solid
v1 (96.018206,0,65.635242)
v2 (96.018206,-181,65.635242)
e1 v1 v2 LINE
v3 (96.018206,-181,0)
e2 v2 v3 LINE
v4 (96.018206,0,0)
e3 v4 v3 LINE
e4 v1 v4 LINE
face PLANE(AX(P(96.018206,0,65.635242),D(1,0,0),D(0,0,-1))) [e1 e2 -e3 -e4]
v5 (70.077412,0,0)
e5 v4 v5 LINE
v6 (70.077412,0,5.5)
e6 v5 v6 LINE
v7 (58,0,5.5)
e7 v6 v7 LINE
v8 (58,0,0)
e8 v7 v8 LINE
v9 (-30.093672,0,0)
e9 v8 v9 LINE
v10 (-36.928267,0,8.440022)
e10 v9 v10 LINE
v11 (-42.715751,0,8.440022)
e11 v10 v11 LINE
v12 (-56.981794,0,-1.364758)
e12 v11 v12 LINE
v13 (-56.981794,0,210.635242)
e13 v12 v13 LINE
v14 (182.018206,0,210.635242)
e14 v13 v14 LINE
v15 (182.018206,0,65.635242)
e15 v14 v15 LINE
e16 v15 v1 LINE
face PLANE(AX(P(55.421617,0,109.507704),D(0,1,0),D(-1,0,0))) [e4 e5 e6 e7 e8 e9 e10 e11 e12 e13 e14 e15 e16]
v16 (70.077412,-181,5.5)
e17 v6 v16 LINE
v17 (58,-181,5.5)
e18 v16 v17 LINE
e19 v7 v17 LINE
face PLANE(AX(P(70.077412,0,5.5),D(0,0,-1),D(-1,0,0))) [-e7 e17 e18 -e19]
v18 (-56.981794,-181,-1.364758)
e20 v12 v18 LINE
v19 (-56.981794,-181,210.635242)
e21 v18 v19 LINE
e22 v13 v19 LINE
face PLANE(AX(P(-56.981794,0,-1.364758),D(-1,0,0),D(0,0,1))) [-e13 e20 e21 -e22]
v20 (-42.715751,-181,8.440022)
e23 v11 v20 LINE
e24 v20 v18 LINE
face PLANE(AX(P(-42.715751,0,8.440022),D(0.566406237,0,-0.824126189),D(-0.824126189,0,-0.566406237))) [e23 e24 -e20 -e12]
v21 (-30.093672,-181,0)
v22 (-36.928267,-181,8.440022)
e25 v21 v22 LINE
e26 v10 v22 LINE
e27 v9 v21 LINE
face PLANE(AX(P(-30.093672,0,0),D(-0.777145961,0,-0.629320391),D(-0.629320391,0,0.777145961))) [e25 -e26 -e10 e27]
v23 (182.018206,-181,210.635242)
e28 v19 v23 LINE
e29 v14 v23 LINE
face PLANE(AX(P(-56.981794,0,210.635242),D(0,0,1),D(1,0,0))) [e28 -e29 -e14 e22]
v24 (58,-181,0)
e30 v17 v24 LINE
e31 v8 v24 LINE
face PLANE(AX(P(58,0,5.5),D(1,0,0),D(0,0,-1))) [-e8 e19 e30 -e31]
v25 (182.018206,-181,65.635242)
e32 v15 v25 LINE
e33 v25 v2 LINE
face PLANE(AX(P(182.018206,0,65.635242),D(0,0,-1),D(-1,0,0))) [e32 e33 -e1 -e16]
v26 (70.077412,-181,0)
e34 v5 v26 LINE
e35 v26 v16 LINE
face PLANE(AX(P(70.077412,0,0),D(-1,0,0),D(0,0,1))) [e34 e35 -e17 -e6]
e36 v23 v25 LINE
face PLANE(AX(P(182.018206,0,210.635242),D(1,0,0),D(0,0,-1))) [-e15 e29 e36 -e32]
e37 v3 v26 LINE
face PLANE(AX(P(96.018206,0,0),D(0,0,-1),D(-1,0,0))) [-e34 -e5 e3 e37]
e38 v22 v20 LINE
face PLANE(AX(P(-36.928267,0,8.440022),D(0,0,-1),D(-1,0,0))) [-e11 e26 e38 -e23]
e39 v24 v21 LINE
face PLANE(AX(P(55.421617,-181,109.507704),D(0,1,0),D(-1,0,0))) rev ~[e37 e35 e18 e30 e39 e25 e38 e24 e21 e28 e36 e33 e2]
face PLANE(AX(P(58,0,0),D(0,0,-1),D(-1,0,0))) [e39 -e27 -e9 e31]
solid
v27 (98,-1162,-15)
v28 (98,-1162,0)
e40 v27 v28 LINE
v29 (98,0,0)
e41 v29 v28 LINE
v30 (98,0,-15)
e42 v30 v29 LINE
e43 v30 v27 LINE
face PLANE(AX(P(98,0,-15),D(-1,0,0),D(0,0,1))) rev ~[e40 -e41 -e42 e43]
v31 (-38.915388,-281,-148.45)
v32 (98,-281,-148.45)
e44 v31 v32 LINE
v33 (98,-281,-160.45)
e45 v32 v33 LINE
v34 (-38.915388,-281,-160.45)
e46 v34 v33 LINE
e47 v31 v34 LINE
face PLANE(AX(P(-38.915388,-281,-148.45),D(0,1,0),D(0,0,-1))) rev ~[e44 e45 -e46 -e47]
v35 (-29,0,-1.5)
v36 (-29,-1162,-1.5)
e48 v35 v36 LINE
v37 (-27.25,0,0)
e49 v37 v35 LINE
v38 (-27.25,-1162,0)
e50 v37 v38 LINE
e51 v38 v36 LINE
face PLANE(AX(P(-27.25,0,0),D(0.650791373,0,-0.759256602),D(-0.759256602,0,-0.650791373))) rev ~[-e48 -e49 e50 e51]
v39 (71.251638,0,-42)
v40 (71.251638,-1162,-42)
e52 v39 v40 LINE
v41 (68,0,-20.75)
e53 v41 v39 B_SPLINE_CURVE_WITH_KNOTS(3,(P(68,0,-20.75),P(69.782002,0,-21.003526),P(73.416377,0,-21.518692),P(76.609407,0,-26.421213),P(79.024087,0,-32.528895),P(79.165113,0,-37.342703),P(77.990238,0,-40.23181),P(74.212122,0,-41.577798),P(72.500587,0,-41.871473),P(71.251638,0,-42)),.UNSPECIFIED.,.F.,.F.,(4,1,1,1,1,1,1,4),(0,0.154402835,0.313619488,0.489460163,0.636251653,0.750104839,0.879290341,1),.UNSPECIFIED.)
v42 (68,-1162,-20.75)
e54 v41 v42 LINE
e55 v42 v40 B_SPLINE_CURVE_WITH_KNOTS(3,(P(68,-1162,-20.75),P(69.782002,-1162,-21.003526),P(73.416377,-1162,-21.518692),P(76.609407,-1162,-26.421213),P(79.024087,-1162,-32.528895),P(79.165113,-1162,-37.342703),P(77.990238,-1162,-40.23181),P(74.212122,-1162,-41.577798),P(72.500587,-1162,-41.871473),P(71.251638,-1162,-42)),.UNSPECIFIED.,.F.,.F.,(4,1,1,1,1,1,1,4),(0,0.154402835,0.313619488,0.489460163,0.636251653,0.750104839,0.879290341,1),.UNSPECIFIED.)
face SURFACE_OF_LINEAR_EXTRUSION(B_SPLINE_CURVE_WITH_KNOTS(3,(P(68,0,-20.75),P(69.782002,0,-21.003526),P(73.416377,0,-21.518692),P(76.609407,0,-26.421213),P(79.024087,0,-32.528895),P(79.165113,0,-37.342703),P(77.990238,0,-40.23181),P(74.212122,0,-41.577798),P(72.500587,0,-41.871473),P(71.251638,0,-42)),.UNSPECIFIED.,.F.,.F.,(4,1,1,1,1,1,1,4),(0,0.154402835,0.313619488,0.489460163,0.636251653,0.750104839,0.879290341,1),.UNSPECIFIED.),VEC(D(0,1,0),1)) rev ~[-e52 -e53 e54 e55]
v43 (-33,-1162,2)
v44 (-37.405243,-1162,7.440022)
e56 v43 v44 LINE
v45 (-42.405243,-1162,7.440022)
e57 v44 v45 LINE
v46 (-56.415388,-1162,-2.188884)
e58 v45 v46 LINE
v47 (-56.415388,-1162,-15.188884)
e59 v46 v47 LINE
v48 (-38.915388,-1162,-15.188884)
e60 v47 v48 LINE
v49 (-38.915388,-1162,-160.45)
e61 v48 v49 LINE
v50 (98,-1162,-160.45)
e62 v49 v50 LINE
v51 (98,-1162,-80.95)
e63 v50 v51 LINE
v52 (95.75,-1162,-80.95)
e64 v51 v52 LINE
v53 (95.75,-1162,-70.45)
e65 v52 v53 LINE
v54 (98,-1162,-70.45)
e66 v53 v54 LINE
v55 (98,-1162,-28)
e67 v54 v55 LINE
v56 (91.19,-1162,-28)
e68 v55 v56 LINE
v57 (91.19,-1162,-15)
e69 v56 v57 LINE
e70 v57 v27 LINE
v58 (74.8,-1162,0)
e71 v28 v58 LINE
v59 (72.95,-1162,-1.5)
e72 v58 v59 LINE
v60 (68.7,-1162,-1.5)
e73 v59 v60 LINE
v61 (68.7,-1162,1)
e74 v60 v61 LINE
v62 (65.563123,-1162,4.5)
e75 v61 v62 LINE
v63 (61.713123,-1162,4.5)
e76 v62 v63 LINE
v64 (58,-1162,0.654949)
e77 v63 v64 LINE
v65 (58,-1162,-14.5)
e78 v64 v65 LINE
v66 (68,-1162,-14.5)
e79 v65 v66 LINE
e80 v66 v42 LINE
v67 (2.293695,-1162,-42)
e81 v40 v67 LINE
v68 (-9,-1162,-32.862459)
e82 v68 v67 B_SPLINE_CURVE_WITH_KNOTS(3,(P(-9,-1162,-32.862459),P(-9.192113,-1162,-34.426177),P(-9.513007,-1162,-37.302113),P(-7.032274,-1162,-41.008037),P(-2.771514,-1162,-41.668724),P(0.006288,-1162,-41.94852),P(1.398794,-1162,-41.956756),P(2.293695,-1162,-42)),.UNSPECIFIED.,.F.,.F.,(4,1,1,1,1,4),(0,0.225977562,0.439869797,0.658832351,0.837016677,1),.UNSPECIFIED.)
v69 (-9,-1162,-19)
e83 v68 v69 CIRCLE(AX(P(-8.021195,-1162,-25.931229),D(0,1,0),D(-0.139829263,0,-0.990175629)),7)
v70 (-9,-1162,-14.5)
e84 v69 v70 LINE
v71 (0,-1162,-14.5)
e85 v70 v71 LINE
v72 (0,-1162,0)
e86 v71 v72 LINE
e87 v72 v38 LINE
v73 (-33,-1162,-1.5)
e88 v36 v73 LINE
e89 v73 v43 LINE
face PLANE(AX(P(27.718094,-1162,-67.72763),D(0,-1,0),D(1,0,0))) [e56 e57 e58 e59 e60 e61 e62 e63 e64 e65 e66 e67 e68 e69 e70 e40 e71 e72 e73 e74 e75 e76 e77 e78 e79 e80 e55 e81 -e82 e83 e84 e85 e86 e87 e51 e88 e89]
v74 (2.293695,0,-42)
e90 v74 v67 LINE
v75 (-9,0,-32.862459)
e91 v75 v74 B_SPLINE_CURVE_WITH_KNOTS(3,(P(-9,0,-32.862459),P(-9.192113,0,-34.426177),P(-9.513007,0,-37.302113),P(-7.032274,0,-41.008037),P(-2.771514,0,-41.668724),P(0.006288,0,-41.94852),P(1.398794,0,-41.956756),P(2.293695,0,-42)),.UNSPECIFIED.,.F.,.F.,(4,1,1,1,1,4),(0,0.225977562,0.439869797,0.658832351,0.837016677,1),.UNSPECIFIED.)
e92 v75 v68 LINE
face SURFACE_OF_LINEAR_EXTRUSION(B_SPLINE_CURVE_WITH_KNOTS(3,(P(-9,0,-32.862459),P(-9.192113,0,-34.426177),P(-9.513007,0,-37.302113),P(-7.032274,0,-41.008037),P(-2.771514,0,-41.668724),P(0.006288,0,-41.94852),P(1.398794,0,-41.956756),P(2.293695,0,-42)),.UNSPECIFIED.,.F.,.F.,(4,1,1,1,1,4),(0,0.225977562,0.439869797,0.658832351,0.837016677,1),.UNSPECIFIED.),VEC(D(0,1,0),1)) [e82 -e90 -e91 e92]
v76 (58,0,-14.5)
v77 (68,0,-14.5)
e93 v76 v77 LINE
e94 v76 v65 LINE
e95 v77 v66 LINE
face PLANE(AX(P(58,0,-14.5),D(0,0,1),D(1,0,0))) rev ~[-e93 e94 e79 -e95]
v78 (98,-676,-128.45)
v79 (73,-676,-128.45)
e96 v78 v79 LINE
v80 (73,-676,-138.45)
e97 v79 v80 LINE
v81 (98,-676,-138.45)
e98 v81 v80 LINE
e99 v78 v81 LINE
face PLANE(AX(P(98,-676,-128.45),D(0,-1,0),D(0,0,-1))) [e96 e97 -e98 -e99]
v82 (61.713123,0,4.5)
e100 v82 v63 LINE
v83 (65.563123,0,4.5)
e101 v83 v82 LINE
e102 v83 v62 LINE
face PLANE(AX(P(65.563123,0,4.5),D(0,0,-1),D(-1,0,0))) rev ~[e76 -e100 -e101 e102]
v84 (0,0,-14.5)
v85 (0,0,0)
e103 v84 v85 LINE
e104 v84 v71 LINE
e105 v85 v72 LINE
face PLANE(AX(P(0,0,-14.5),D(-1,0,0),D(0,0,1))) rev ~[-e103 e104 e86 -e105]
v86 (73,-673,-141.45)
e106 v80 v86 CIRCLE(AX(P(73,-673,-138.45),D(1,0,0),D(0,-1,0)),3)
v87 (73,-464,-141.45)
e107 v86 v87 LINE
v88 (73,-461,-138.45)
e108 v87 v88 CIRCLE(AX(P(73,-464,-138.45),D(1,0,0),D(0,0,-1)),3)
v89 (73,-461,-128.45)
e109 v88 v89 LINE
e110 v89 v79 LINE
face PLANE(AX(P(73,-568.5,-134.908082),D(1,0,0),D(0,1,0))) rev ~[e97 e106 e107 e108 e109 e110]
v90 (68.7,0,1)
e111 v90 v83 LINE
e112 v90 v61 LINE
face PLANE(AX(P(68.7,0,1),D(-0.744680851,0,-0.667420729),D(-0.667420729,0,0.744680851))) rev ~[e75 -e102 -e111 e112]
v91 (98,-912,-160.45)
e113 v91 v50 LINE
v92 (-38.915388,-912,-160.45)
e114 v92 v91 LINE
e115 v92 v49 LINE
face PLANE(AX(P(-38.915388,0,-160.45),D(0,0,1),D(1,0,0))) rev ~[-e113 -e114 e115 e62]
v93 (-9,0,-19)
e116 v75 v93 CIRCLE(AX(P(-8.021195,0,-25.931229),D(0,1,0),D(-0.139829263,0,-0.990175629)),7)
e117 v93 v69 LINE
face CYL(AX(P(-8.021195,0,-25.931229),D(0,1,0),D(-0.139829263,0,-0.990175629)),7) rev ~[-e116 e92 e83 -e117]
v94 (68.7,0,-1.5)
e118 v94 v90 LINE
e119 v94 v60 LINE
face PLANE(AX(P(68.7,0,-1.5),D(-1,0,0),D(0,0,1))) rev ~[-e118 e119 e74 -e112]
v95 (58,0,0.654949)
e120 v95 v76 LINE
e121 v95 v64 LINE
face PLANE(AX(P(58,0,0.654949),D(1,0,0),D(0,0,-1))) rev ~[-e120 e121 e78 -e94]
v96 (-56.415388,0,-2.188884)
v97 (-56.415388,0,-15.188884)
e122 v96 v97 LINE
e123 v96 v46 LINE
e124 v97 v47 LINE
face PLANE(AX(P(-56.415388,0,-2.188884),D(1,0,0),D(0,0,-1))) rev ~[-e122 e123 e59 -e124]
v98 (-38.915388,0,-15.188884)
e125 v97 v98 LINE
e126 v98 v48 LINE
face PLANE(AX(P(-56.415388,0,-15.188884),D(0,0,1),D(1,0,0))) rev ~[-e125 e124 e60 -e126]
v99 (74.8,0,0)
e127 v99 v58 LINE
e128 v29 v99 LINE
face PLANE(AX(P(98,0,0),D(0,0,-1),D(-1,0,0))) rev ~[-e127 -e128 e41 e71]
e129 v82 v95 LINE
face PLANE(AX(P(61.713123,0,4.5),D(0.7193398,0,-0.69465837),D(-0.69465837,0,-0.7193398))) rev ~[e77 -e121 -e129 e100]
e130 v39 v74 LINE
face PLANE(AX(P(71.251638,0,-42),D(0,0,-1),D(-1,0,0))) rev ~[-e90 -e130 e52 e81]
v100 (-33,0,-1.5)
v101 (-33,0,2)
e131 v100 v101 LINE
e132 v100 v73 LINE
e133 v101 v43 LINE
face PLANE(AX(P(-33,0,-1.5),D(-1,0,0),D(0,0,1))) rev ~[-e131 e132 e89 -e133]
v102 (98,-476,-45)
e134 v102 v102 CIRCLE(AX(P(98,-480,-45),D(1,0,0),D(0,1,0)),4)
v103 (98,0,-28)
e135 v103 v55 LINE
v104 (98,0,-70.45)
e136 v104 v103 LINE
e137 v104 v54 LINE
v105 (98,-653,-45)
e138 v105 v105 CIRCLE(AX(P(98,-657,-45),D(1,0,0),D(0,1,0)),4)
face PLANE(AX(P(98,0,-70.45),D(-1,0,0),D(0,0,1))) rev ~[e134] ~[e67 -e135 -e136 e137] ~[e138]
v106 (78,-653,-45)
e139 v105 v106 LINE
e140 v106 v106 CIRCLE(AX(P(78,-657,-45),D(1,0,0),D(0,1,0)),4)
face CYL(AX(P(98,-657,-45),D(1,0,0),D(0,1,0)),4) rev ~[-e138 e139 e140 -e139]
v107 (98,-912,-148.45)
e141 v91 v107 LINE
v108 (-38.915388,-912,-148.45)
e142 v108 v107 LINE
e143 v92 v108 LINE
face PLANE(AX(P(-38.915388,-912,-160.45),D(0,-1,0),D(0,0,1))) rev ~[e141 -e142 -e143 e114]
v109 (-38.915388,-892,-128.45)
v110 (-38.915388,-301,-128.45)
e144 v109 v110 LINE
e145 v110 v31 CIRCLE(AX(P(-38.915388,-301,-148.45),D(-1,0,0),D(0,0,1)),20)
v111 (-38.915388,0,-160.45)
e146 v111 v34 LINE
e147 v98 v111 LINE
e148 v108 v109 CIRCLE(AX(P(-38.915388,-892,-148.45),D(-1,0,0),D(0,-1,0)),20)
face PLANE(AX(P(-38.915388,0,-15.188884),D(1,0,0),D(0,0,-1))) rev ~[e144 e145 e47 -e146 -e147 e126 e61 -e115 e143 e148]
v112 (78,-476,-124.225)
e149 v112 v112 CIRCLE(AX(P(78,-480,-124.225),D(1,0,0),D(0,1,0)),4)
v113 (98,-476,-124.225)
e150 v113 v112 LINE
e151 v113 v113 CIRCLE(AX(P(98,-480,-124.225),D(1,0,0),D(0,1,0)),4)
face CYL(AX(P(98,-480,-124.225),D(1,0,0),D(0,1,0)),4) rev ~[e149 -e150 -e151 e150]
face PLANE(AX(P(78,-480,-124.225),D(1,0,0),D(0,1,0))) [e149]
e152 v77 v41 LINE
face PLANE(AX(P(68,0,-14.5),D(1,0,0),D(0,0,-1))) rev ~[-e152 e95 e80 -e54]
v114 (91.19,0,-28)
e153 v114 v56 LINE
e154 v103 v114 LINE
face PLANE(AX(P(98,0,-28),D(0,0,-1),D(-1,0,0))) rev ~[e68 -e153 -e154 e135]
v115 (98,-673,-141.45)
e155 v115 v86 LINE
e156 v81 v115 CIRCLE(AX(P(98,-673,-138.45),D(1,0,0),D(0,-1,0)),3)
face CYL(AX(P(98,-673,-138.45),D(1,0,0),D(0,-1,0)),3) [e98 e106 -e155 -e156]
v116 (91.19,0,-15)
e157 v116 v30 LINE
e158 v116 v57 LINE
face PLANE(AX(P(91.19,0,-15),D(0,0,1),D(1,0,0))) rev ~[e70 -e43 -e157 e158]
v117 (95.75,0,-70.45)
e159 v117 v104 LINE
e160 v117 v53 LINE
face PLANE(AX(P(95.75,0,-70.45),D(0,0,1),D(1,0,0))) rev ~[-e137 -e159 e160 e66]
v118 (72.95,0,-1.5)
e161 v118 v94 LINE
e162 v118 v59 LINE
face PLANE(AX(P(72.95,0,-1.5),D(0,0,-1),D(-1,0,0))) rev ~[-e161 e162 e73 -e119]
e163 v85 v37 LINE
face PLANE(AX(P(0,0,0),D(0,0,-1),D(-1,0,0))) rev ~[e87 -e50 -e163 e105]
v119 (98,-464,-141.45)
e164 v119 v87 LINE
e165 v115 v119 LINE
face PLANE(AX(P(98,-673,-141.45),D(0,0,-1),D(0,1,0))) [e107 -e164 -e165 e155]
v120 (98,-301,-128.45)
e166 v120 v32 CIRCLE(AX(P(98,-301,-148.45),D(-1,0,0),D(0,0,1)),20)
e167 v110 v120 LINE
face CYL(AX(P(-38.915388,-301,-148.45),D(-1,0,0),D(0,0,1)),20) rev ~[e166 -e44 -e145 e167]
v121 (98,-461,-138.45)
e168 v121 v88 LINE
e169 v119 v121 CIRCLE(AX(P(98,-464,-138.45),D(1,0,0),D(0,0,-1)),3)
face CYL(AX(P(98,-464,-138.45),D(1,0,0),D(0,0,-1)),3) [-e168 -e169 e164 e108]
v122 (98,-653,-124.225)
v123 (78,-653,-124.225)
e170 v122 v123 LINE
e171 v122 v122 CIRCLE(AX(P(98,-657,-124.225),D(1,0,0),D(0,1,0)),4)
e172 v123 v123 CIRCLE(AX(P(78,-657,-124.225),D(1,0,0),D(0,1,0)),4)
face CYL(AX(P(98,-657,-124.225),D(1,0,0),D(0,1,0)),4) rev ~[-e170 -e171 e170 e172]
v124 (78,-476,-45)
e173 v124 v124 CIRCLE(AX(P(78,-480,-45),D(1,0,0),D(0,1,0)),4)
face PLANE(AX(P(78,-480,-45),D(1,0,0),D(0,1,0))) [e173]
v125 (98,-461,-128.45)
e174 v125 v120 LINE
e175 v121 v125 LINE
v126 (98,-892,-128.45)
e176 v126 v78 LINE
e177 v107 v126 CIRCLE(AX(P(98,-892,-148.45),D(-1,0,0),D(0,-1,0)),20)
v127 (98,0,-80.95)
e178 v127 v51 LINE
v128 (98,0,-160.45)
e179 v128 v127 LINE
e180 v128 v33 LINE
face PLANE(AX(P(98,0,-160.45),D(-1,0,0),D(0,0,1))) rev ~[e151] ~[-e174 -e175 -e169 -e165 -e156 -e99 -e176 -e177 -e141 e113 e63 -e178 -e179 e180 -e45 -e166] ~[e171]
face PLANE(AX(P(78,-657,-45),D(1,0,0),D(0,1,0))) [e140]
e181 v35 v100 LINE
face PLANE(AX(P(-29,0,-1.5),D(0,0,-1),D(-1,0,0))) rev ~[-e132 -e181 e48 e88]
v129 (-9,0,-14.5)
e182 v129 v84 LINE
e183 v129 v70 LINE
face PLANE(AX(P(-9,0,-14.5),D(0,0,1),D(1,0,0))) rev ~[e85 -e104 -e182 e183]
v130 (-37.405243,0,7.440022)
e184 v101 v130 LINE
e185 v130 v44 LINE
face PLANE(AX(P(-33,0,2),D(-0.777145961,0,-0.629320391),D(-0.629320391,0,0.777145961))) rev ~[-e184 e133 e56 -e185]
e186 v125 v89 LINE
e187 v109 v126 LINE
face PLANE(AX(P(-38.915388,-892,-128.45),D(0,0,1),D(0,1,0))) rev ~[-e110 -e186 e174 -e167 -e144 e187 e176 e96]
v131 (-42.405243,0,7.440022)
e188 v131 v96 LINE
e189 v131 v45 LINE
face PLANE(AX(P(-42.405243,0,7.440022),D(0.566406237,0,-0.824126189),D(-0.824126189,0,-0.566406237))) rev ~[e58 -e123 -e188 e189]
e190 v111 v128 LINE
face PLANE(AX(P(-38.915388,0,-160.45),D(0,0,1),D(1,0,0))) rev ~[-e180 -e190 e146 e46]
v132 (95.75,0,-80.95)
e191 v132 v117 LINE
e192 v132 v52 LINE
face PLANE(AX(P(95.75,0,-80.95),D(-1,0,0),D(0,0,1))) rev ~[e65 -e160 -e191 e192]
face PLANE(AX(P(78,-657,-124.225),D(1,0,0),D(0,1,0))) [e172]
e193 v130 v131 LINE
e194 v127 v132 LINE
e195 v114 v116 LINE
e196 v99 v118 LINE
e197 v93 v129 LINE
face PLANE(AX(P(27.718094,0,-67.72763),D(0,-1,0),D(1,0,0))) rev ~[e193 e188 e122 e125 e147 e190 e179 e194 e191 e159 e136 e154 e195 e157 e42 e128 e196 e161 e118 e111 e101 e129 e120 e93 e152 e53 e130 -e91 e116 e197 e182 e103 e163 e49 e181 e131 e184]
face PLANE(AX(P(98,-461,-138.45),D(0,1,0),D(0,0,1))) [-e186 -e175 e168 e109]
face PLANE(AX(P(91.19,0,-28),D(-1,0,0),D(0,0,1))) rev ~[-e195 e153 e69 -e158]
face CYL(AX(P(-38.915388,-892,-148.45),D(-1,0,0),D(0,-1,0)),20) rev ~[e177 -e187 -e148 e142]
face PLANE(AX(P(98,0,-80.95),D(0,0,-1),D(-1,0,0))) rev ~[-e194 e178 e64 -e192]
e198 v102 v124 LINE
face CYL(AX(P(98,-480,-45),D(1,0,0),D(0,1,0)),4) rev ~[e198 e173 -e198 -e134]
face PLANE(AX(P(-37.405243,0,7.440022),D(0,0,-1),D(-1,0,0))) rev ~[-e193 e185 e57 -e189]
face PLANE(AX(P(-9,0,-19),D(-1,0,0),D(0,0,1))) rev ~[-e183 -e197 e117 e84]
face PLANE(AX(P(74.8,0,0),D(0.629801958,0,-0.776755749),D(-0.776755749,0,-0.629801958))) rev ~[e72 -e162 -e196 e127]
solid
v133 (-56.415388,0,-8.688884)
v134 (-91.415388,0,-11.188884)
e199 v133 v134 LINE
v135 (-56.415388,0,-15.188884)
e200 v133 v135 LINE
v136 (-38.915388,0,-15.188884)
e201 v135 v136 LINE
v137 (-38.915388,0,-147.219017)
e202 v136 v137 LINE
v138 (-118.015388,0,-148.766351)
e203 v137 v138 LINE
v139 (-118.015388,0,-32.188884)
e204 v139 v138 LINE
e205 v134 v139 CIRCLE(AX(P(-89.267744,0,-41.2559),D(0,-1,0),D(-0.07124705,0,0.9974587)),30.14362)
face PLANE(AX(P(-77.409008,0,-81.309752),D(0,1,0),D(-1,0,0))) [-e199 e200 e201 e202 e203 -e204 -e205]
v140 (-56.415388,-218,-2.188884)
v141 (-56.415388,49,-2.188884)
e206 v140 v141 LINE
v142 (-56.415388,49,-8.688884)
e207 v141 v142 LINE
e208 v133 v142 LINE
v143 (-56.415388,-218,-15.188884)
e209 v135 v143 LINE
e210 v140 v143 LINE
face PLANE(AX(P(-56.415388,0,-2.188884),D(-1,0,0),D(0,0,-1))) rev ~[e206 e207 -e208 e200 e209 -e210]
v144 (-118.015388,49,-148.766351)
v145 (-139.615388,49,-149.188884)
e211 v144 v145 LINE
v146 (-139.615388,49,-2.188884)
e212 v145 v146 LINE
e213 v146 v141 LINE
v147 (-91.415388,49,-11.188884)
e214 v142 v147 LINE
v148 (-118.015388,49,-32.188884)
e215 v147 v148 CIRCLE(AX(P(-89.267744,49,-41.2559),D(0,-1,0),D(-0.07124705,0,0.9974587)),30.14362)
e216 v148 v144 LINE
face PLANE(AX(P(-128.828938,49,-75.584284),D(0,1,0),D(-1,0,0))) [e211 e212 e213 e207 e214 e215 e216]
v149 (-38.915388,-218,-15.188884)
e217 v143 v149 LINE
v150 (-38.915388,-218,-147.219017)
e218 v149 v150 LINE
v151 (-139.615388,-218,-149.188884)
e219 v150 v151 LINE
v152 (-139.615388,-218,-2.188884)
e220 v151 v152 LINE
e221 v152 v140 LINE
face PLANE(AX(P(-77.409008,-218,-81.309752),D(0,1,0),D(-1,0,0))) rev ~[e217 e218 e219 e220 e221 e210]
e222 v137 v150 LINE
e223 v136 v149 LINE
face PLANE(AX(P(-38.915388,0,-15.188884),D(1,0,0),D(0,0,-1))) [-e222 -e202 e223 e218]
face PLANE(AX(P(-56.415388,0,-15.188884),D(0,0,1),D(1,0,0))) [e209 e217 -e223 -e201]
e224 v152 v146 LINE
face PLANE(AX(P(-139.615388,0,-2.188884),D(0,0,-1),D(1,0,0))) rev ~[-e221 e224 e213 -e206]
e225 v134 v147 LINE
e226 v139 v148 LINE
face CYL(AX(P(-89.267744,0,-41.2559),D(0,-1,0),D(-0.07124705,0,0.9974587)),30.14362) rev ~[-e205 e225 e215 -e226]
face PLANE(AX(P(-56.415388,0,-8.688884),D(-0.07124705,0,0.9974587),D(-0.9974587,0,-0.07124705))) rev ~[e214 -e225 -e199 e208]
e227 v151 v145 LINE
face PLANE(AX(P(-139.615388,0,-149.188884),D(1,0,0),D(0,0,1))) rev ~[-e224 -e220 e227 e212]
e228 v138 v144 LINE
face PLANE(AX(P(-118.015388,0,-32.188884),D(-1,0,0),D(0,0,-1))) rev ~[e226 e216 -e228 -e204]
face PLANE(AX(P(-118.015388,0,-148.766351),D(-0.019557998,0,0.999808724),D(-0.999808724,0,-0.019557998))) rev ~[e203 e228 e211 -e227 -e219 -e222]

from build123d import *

# Parameters (mm, degrees)
F1_DEPTH  = 1162
F3_DEPTH  = 136.9153879439
F5_DEPTH  = 25
F4_R      = 4
F6_DEPTH  = 20
F8_DEPTH  = 218
F9_DEPTH  = 49
F11_DEPTH = 181


with BuildPart() as f1:
    # F0 (on Front) → F1 (new body)
    with BuildSketch(Plane.XZ):
        with BuildLine():
            Line((98, -15), (98, 0))
            Line((98, 0), (74.8, 0))
            Line((74.8, 0), (72.95, -1.5))
            Line((72.95, -1.5), (68.7, -1.5))
            Line((68.7, -1.5), (68.7, 1))
            Line((68.7, 1), (65.5631225717, 4.5))
            Line((65.5631225717, 4.5), (61.7131225717, 4.5))
            Line((61.7131225717, 4.5), (58, 0.6549490182))
            Line((58, 0.6549490182), (58, -14.5))
            Line((58, -14.5), (68, -14.5))
            Line((68, -14.5), (68, -20.75))
            add(Edge.make_bspline(
                [(68, -20.75), (69.7820021938, -21.0035260588), (73.4163773468, -21.5186921977), (76.6094071106, -26.4212132096), (79.0240865965, -32.5288945488), (79.1651134516, -37.3427034629), (77.9902378945, -40.2318102544), (74.2121223578, -41.5777983629), (72.5005865097, -41.8714731932), (71.2516382337, -42)],
                knots=[0, 0, 0, 0, 0.1544028345, 0.3136194875, 0.4894601632, 0.6362516526, 0.7501048386, 0.8792903413, 1, 1, 1, 1], degree=3))
            Line((71.2516382337, -42), (2.2936949972, -42))
            add(Edge.make_bspline(
                [(-9, -32.8624588123), (-9.1921132317, -34.4261774169), (-9.5130067032, -37.3021134827), (-7.0322735848, -41.0080368508), (-2.7715139126, -41.668724359), (0.006287842, -41.9485204029), (1.3987936545, -41.956756264), (2.2936949972, -42)],
                knots=[0, 0, 0, 0, 0.225977562, 0.4398697973, 0.6588323509, 0.8370166765, 1, 1, 1, 1], degree=3))
            ThreePointArc((-9, -32.8624588123), (-15.0211951577, -25.9312294062), (-9, -19))
            Line((-9, -19), (-9, -14.5))
            Line((-9, -14.5), (0, -14.5))
            Line((0, -14.5), (0, 0))
            Line((0, 0), (-27.25, 0))
            Line((-27.25, 0), (-29, -1.5))
            Line((-29, -1.5), (-33, -1.5))
            Line((-33, -1.5), (-33, 2))
            Line((-33, 2), (-37.4052427373, 7.4400217302))
            Line((-37.4052427373, 7.4400217302), (-42.4052427373, 7.4400217302))
            Line((-42.4052427373, 7.4400217302), (-56.4153879439, -2.1888842975))
            Line((-56.4153879439, -2.1888842975), (-56.4153879439, -15.1888842975))
            Line((-56.4153879439, -15.1888842975), (-38.9153879439, -15.1888842975))
            Line((-38.9153879439, -15.1888842975), (-38.9153879439, -97.1870198846))
            Line((-38.9153879439, -97.1870198846), (-38.9153879439, -160.45))
            Line((-38.9153879439, -160.45), (98, -160.45))
            Line((98, -160.45), (98, -80.95))
            Line((98, -80.95), (95.75, -80.95))
            Line((95.75, -80.95), (95.75, -70.45))
            Line((95.75, -70.45), (98, -70.45))
            Line((98, -70.45), (98, -28))
            Line((98, -28), (91.19, -28))
            Line((91.19, -28), (91.19, -15))
            Line((91.19, -15), (98, -15))
        make_face()
    extrude(amount=F1_DEPTH)

    # F2 (on face) → F3 (cut, through all)
    with BuildSketch(Plane(origin=(-38.9153879439, 0, 0), x_dir=(0, -1, 0), z_dir=(-1, 0, 0))):
        with BuildLine():
            Line((281, -160.45), (912, -160.45))
            Line((912, -160.45), (912, -148.45))
            ThreePointArc((912, -148.45), (906.1421356237, -134.3078643763), (892, -128.45))
            Line((892, -128.45), (301, -128.45))
            ThreePointArc((301, -128.45), (286.8578643763, -134.3078643763), (281, -148.45))
            Line((281, -148.45), (281, -160.45))
        make_face()
    extrude(amount=-F3_DEPTH, mode=Mode.SUBTRACT)

    # F4 (on face) → F5 (join)
    with BuildSketch(Plane.YZ.offset(98)):
        with BuildLine():
            Line((-673, -141.45), (-657, -141.45))
            Line((-657, -141.45), (-480, -141.45))
            Line((-480, -141.45), (-464, -141.45))
            ThreePointArc((-464, -141.45), (-461.8786796564, -140.5713203436), (-461, -138.45))
            Line((-461, -138.45), (-461, -128.45))
            Line((-461, -128.45), (-676, -128.45))
            Line((-676, -128.45), (-676, -138.45))
            ThreePointArc((-676, -138.45), (-675.1213203436, -140.5713203436), (-673, -141.45))
        make_face()
    extrude(amount=-F5_DEPTH)

    # F4 (on face) → F6 (cut)
    with BuildSketch(Plane.YZ.offset(98)):
        with Locations((-657, -45)):
            Circle(F4_R)
        with Locations((-480, -45)):
            Circle(F4_R)
        with Locations((-480, -124.225)):
            Circle(F4_R)
        with Locations((-657, -124.225)):
            Circle(F4_R)
    extrude(amount=-F6_DEPTH, mode=Mode.SUBTRACT)


with BuildPart() as f8:
    # F7 (on face) → F8 (new body)
    with BuildSketch(Plane(origin=(0, 0, 0), x_dir=(-1, 0, 0), z_dir=(0, 1, 0))):
        with BuildLine():
            Line((56.4153879439, -8.6888842975), (56.4153879439, -15.1888842975))
            Line((56.4153879439, -15.1888842975), (38.9153879439, -15.1888842975))
            Line((38.9153879439, -15.1888842975), (38.9153879439, -147.219017148))
            Line((38.9153879439, -147.219017148), (118.0153879439, -148.7663507282))
            Line((118.0153879439, -148.7663507282), (118.0153879439, -32.1888842975))
            ThreePointArc((118.0153879439, -32.1888842975), (107.9460657445, -17.5966924168), (91.4153879439, -11.1888842975))
            Line((91.4153879439, -11.1888842975), (56.4153879439, -8.6888842975))
        make_face()
        Polygon((56.4153879439, -2.1888842975), (56.4153879439, -8.6888842975), (91.4153879439, -11.1888842975), (91.4153879439, -2.1888842975), align=None)
        with BuildLine():
            Line((91.4153879439, -2.1888842975), (91.4153879439, -11.1888842975))
            ThreePointArc((91.4153879439, -11.1888842975), (107.9460657445, -17.5966924168), (118.0153879439, -32.1888842975))
            Line((118.0153879439, -32.1888842975), (118.0153879439, -2.1888842975))
            Line((118.0153879439, -2.1888842975), (91.4153879439, -2.1888842975))
        make_face()
        Polygon((118.0153879439, -32.1888842975), (118.0153879439, -148.7663507282), (139.6153879439, -149.1888842975), (139.6153879439, -2.1888842975), (118.0153879439, -2.1888842975), align=None)
    extrude(amount=-F8_DEPTH)

    # F7 (on face) → F9 (join)
    with BuildSketch(Plane(origin=(0, 0, 0), x_dir=(-1, 0, 0), z_dir=(0, 1, 0))):
        Polygon((118.0153879439, -32.1888842975), (118.0153879439, -148.7663507282), (139.6153879439, -149.1888842975), (139.6153879439, -2.1888842975), (118.0153879439, -2.1888842975), align=None)
        with BuildLine():
            Line((91.4153879439, -2.1888842975), (91.4153879439, -11.1888842975))
            ThreePointArc((91.4153879439, -11.1888842975), (107.9460657445, -17.5966924168), (118.0153879439, -32.1888842975))
            Line((118.0153879439, -32.1888842975), (118.0153879439, -2.1888842975))
            Line((118.0153879439, -2.1888842975), (91.4153879439, -2.1888842975))
        make_face()
        Polygon((56.4153879439, -2.1888842975), (56.4153879439, -8.6888842975), (91.4153879439, -11.1888842975), (91.4153879439, -2.1888842975), align=None)
    extrude(amount=F9_DEPTH)


with BuildPart() as f11:
    # F10 (on face) → F11 (new body)
    with BuildSketch(Plane(origin=(0, 0, 0), x_dir=(-1, 0, 0), z_dir=(0, 1, 0))):
        Polygon((-58, 0), (0, 0), (27.25, 0), (30.0936723677, 0), (36.9282672047, 8.4400217302), (42.7157509908, 8.4400217302), (56.9817941808, -1.3647581089), (56.9817941808, 210.6352418911), (-182.0182058192, 210.6352418911), (-182.0182058192, 65.6352418911), (-96.0182058192, 65.6352418911), (-96.0182058192, 0), (-74.8, 0), (-70.0774118304, 0), (-70.0774118304, 5.5), (-68.7, 5.5), (-58, 5.5), (-58, 0.6549490182), align=None)
    extrude(amount=-F11_DEPTH)


solid = Compound([f1.part, f8.part, f11.part])
